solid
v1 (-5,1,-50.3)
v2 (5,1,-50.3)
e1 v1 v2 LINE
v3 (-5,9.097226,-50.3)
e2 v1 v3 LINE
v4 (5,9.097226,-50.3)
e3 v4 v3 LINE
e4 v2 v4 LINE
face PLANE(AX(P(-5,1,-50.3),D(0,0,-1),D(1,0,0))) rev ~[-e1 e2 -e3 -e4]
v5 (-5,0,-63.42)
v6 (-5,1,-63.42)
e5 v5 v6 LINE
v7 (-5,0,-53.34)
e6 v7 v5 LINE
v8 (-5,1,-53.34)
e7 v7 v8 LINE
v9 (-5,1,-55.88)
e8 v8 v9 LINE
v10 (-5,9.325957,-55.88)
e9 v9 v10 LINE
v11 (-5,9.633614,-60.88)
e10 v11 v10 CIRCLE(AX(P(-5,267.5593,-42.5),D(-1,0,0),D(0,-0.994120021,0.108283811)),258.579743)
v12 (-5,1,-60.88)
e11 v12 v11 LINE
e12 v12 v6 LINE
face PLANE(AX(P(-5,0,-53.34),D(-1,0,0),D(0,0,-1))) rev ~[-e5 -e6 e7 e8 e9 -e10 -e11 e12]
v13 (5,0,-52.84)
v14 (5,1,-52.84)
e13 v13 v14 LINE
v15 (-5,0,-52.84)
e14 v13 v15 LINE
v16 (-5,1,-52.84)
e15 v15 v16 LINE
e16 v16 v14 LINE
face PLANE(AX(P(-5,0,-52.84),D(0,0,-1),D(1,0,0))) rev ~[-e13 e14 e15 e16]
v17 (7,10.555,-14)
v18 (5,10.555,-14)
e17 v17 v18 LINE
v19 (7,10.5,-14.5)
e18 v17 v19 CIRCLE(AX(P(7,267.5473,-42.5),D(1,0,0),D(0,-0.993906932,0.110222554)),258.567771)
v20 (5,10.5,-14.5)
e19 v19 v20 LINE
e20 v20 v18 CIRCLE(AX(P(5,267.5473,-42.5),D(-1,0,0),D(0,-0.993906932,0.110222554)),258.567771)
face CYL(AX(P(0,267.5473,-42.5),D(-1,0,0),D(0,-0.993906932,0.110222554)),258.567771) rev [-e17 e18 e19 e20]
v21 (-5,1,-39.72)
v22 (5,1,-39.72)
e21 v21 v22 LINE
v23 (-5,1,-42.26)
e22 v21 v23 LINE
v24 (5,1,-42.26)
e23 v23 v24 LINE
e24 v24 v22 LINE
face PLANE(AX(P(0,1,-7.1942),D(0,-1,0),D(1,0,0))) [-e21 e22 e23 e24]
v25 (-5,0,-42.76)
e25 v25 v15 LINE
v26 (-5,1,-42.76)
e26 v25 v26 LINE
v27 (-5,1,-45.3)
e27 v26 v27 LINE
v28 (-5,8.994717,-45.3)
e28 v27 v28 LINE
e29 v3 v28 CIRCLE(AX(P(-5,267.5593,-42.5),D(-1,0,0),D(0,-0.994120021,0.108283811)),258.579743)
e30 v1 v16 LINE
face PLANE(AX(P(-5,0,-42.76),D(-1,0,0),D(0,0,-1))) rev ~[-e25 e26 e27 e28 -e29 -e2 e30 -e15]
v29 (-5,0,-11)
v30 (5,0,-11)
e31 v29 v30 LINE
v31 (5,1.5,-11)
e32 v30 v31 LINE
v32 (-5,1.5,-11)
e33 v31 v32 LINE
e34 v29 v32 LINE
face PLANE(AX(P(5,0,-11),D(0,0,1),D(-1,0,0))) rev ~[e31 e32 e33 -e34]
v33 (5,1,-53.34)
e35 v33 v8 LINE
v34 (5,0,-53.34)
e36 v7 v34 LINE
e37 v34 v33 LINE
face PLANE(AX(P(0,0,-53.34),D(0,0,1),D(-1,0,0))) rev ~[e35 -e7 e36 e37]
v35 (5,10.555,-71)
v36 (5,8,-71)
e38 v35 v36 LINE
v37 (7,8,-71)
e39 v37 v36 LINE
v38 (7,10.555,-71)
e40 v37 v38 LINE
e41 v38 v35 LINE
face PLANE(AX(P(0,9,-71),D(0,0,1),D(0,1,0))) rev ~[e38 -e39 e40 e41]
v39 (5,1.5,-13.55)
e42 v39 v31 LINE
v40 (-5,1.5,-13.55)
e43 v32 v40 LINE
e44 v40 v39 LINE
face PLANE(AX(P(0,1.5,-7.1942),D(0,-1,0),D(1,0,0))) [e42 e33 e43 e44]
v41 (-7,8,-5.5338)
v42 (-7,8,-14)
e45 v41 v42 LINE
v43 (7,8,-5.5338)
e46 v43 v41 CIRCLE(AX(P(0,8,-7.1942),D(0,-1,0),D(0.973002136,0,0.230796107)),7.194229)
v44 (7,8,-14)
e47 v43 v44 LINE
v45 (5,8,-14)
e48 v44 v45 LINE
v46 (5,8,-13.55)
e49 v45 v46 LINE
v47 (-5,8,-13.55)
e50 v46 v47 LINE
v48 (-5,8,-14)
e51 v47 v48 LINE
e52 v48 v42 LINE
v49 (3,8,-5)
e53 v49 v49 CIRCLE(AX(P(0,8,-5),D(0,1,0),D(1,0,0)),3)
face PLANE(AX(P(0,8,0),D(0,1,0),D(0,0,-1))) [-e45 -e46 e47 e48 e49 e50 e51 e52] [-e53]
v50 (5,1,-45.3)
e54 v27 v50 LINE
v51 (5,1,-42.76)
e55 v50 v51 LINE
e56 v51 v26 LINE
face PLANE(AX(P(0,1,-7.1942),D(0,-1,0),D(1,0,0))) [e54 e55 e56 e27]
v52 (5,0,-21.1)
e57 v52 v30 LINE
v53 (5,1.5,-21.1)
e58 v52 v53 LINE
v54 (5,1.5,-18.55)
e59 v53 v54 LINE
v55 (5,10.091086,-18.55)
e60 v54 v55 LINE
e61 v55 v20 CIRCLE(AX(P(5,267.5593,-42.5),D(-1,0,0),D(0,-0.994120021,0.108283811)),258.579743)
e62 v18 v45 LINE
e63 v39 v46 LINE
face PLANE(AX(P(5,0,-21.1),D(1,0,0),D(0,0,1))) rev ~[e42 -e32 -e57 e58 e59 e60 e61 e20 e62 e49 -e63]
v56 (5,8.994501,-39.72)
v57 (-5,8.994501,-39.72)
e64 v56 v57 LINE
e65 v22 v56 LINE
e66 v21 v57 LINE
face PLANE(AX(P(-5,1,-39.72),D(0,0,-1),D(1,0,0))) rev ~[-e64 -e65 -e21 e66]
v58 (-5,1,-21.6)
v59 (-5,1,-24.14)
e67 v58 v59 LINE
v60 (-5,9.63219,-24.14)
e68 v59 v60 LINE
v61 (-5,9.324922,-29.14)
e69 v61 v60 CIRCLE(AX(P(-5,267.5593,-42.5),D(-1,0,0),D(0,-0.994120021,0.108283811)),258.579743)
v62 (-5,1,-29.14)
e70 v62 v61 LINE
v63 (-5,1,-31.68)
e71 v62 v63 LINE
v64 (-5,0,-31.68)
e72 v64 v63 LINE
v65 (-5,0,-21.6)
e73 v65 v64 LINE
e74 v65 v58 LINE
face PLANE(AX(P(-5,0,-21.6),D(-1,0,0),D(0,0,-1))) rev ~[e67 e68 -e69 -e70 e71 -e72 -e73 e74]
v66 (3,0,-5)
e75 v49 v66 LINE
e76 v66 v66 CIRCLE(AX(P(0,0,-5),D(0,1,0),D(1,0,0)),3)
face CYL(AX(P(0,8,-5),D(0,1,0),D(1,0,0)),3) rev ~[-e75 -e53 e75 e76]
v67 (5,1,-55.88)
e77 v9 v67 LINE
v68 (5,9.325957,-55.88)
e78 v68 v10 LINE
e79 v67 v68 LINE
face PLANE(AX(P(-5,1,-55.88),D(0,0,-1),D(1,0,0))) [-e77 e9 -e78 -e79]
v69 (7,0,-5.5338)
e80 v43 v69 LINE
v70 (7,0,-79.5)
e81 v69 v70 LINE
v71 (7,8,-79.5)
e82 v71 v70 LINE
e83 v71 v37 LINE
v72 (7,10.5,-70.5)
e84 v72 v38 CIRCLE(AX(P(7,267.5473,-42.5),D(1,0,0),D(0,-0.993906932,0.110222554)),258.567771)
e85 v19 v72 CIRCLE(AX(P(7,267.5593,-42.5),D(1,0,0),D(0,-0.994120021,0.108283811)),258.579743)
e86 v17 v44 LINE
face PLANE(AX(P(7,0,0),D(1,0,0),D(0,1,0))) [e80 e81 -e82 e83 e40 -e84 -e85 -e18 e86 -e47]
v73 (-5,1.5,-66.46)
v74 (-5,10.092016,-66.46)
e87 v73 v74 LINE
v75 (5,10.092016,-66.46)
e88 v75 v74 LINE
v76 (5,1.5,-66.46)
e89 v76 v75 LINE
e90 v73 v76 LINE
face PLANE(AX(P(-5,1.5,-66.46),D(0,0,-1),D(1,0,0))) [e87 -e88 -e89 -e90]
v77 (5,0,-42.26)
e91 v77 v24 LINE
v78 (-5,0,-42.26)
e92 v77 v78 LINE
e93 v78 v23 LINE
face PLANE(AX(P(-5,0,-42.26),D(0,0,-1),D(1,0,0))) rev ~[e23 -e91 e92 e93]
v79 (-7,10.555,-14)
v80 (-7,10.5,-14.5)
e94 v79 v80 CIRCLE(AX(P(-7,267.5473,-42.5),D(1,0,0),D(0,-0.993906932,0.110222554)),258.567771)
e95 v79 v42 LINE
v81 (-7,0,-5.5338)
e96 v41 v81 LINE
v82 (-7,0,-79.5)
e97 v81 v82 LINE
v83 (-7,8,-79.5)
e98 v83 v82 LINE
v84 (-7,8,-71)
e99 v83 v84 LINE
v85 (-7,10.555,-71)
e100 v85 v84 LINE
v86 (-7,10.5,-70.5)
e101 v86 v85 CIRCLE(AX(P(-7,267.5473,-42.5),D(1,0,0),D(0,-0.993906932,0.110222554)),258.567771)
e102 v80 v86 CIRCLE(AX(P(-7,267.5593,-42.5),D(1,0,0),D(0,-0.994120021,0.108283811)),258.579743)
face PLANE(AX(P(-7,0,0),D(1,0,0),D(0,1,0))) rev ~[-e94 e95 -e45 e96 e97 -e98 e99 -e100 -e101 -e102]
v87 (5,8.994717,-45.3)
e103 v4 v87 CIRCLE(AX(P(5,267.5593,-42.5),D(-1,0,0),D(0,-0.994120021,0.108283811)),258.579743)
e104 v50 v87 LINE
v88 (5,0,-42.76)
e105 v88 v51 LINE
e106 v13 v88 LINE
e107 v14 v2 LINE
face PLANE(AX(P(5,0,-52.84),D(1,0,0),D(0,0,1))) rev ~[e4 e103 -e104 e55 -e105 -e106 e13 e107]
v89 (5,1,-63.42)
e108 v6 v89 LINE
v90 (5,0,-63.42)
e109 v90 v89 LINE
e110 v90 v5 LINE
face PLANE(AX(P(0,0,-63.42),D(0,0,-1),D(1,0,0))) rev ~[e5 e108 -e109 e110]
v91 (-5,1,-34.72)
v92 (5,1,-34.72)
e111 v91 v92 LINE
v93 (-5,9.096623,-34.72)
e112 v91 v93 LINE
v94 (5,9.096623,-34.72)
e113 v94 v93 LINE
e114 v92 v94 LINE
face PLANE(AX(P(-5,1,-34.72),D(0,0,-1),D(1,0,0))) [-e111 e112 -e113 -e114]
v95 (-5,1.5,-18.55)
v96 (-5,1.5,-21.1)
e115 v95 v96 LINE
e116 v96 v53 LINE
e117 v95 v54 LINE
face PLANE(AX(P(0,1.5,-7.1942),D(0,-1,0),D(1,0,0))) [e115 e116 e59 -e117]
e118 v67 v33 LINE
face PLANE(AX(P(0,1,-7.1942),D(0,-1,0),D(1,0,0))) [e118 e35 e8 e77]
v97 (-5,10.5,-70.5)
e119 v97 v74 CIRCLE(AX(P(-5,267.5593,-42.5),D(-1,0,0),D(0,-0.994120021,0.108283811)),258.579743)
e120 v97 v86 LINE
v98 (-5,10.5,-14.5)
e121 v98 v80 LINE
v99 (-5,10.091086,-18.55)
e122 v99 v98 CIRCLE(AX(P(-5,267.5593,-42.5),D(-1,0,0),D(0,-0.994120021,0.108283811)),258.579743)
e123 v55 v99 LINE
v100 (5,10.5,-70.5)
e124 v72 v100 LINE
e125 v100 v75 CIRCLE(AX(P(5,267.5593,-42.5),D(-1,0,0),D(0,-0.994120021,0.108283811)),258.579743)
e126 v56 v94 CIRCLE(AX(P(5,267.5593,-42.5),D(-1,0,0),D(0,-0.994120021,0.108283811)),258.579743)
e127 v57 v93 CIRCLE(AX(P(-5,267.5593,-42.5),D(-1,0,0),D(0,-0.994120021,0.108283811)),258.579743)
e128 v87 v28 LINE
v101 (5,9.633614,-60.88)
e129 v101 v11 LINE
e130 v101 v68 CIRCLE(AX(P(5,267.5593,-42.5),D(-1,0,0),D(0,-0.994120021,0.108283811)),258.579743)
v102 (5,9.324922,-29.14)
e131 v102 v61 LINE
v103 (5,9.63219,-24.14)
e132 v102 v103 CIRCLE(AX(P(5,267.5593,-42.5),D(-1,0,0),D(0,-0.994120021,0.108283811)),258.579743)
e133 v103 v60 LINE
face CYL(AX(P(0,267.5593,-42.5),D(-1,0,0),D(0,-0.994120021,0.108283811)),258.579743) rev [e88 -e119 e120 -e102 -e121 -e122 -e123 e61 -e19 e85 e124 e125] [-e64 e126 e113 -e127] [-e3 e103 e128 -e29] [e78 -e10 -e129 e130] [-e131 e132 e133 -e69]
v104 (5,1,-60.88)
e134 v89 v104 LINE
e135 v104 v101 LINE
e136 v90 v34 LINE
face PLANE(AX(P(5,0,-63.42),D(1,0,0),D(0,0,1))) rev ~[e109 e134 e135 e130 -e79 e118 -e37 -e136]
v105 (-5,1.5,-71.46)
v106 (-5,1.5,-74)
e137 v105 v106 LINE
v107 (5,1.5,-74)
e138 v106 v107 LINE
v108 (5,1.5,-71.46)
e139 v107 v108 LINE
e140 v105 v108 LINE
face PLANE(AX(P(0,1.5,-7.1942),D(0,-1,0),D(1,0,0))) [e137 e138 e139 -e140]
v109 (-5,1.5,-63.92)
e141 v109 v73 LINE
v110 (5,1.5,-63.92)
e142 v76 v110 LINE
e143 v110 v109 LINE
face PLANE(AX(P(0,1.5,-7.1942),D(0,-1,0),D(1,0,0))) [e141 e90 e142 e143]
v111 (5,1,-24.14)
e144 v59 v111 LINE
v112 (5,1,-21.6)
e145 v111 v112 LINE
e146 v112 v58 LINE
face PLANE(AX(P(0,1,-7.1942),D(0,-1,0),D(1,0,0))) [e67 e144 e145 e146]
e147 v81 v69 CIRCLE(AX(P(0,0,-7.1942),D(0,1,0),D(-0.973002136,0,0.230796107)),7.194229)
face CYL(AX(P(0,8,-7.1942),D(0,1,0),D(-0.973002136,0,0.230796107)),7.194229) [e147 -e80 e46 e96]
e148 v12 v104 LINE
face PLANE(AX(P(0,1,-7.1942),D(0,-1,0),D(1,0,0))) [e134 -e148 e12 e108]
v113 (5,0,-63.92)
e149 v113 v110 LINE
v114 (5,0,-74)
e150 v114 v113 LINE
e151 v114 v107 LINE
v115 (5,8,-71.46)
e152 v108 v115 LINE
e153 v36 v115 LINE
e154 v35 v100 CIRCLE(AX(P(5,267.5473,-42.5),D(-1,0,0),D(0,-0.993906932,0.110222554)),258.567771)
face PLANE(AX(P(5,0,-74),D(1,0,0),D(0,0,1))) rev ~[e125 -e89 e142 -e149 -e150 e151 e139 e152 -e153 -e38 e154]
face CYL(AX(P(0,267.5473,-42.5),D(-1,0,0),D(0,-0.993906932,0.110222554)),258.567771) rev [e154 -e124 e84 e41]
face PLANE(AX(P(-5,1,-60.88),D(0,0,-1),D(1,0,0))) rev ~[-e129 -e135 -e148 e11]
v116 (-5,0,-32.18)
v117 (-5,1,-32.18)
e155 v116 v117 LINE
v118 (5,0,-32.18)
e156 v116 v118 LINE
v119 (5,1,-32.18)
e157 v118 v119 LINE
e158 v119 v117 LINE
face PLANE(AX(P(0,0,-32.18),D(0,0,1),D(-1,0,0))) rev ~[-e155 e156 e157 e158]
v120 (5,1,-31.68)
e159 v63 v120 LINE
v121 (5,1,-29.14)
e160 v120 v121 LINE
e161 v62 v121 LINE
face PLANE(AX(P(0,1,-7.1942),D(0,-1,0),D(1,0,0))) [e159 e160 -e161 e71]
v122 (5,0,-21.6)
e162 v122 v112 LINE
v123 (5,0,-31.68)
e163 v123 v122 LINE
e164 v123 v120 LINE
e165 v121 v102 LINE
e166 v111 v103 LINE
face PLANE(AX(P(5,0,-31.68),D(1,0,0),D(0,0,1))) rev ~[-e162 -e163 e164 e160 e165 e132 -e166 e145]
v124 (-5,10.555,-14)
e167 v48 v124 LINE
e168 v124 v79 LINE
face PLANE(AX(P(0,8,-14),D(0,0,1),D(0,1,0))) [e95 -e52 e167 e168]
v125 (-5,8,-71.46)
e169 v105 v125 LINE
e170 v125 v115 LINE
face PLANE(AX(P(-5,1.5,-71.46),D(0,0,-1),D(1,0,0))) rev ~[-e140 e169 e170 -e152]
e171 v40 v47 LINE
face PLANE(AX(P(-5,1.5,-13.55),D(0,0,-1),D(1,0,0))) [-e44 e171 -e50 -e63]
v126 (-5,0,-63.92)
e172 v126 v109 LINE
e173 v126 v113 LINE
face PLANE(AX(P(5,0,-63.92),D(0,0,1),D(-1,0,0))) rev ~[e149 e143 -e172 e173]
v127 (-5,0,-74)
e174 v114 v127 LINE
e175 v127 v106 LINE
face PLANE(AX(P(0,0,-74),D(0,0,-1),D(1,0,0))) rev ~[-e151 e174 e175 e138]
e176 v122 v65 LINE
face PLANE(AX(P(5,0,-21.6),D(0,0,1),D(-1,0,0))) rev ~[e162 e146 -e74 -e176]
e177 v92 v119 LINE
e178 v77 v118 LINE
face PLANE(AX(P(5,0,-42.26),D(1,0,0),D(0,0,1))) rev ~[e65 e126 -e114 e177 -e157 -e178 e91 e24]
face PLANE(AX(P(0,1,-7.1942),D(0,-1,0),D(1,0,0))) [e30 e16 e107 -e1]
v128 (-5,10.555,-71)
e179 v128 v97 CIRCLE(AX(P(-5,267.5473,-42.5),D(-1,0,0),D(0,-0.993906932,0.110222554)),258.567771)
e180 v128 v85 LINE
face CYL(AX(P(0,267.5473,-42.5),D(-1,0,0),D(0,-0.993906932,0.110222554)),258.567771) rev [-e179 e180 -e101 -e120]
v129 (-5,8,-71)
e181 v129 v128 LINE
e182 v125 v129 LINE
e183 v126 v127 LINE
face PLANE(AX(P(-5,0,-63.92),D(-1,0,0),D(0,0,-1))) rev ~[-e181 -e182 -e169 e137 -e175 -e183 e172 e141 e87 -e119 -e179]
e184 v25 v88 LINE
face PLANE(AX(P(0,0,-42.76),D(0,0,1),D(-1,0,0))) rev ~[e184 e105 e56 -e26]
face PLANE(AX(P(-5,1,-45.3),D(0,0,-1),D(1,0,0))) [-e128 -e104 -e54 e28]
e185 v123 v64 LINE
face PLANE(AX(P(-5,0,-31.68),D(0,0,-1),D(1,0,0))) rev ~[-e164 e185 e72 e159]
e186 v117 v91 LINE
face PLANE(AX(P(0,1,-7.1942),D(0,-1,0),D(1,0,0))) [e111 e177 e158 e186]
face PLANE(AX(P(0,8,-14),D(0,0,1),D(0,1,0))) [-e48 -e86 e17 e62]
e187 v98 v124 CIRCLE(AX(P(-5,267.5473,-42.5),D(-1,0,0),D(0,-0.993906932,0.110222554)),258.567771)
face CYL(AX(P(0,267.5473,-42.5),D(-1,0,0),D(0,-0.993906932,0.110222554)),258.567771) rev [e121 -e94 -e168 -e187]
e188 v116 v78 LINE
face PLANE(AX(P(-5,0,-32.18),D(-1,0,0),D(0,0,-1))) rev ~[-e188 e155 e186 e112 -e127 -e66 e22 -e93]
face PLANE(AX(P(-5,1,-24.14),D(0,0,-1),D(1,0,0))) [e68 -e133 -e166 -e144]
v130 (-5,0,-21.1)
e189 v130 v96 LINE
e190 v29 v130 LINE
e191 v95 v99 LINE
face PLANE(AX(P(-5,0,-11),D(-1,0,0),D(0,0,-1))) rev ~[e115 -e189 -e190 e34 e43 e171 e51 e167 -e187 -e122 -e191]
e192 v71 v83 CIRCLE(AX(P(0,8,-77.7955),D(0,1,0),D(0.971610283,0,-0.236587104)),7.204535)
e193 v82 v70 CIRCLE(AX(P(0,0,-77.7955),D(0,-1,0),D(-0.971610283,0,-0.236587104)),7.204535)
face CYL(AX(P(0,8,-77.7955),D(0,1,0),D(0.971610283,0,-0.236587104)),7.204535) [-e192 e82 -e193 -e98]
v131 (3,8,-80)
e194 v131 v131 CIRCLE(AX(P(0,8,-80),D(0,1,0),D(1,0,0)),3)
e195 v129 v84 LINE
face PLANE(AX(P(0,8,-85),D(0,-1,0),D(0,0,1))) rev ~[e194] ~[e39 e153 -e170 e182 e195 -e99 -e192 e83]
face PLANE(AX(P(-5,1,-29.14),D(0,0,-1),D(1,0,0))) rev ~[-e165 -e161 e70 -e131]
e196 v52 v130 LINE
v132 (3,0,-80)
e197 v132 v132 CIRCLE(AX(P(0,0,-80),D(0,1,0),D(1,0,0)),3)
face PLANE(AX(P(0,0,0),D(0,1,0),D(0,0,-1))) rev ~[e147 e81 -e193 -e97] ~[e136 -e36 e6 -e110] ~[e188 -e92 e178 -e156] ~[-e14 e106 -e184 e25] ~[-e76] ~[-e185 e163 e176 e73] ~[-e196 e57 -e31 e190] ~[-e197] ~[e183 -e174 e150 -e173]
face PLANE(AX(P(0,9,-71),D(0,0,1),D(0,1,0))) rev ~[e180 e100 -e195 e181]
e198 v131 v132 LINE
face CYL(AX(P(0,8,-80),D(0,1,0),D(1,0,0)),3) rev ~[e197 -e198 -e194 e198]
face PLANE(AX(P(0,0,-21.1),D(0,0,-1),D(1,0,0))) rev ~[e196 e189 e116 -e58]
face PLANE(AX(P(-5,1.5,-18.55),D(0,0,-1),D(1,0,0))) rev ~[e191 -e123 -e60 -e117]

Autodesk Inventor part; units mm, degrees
ref_plane "YZ Plane" through (0, 0, 0) normal (1, 0, 0) x (0, 1, 0)
ref_plane "XY Plane" through (0, 0, 0) normal (0, 0, 1) x (1, 0, 0)
sketch "Sketch1" plane through (0, 0, 0) normal (1, 0, 0) x (0, 1, 0)
  line L0 (0, 0) -> (0, -85)
  line L1 (0, -85) -> (8, -85)
  line L2 (0, 0) -> (8, 0)
  line L3 (8, 0) -> (8, -14)
  line L4 (8, -85) -> (8, -71)
  line L5 (8, -14) -> (9, -14)
  line L6 (8, -71) -> (9, -71)
  arc A0 (10.5, -14.5) -> (10.5, -70.5) centre (267.5593, -42.5) ccw
  line L7 (8, -71) -> (10.555, -71)
  line L8 (8, -14) -> (10.555, -14)
  arc A1 (10.555, -14) -> (10.555, -71) centre (267.5473, -42.5) ccw
extrude "Extrusion1" add sketch "Sketch1" along normal mid plane 14
sketch "Sketch2" plane through (-7, 8, 0) normal (0, 1, 0) x (1, 0, 0)
  line L0 (0, 85) -> (0, 0) projected
  line L1 (0, 14.0338) -> (0, 5.5338)
  line L2 (14, 0) -> (14, 85) projected
  line L3 (14, 14.0338) -> (14, 5.5338)
  arc A0 (0, 5.5338) -> (14, 5.5338) centre (7, 7.1942) ccw
  line L4 (0, 5.5338) -> (0, 0)
  line L5 (0, 0) -> (14, 0) projected
  line L6 (14, 0) -> (14, 5.5338)
  point P0 (7, 0)
  dimension "d13" = 8.5
extrude "Extrusion2" cut sketch "Sketch2" against normal blind 14
sketch "Sketch3" plane through (-7, 8, -71) normal (0, 1, 0) x (1, 0, 0)
  line L0 (0, 0) -> (14, 0) projected
  line L1 (0, 0) -> (0, 14) projected
  arc A0 (14, 8.5) -> (0, 8.5) centre (7, 6.7955) ccw
  line L2 (0, 8.5) -> (0, 14)
  line L3 (0, 14) -> (14, 14) projected
  line L4 (14, 14) -> (14, 8.5)
  line L5 (14, -65.4662) -> (14, 14) projected
  line L6 (0, 14) -> (0, 8.5)
  line L7 (14, 8.5) -> (14, 14)
  line L8 (14, 14) -> (0, 14)
  line L9 (0, 8.5) -> (0, 14)
  line L10 (0, 14) -> (14, 14) projected
  line L11 (14, 14) -> (14, 8.5)
  line L12 (14, 14) -> (14, 0) projected
  arc A1 (14, 8.5) -> (0, 8.5) centre (7, 6.7955) ccw
  point P0 (7, -71)
extrude "Extrusion3" cut sketch "Sketch3" against normal blind 14 contours L1 L3 A0 | A0 L3 L4
sketch "Sketch4" plane through (-7, 8, -71) normal (0, 1, 0) x (1, 0, 0)
  arc A0 (14, 8.5) -> (0, 8.5) centre (7, 6.7955) ccw projected
  line L0 (7, 0.0396) -> (7, 3.0396)
  circle A1 centre (7, 9) radius 3
  point P0 (7, -71)
extrude "Extrusion4" cut sketch "Sketch4" against normal blind 14
sketch "Sketch5" plane through (-7, 8, -14) normal (0, 1, 0) x (1, 0, 0)
  circle A0 centre (7, -9) radius 3
  point P0 (7, -14)
extrude "Extrusion5" cut sketch "Sketch5" against normal blind 14
sketch "Sketch6" plane through (0, 0, -7.1942) normal (0, -1, 0) x (1, 0, 0)
  point P0 (0, 7.1942)
sketch "Sketch7" plane through (0, 0, -7.1942) normal (0, -1, 0) x (1, 0, 0)
  circle A0 centre (0, 2.1942) radius 3 projected
  line L0 (0, -0.8058) -> (0, -3.8058)
  circle A1 centre (0, -72.8058) radius 3 projected
  line L1 (0, -69.8058) -> (0, -66.8058)
  line L2 (0, -66.8058) -> (-5, -66.8058)
  line L3 (-5, -66.8058) -> (5, -66.8058)
  line L4 (-5, -66.8058) -> (5, -66.8058)
  line L5 (5, -66.8058) -> (5, -56.7258)
  line L6 (5, -56.7258) -> (-5, -56.7258)
  line L7 (-5, -56.7258) -> (-5, -66.8058)
  line L8 (0, -56.7258) -> (0, -56.2258)
  line L9 (-5, -56.2258) -> (5, -56.2258)
  line L10 (5, -56.2258) -> (5, -46.1458)
  line L11 (5, -46.1458) -> (-5, -46.1458)
  line L12 (-5, -46.1458) -> (-5, -56.2258)
  line L13 (0, -46.1458) -> (0, -45.6458)
  line L14 (-5, -45.6458) -> (5, -45.6458)
  line L15 (5, -45.6458) -> (5, -35.5658)
  line L16 (5, -35.5658) -> (-5, -35.5658)
  line L17 (-5, -35.5658) -> (-5, -45.6458)
  line L18 (0, -35.5658) -> (0, -35.0658)
  line L19 (-5, -35.0658) -> (5, -35.0658)
  line L20 (5, -35.0658) -> (5, -24.9858)
  line L21 (5, -24.9858) -> (-5, -24.9858)
  line L22 (-5, -24.9858) -> (-5, -35.0658)
  line L23 (0, -24.9858) -> (0, -24.4858)
  line L24 (-5, -24.4858) -> (5, -24.4858)
  line L25 (5, -24.4858) -> (5, -14.4058)
  line L26 (5, -14.4058) -> (-5, -14.4058)
  line L27 (-5, -14.4058) -> (-5, -24.4858)
  line L28 (0, -14.4058) -> (0, -13.9058)
  line L29 (-5, -13.9058) -> (5, -13.9058)
  line L30 (5, -13.9058) -> (5, -3.8058)
  line L31 (5, -3.8058) -> (-5, -3.8058)
  line L32 (-5, -3.8058) -> (-5, -13.9058)
  point P0 (0, 7.1942)
extrude "Extrusion6" cut sketch "Sketch7" against normal blind 1.5 contours L6 L5 L3 L2 L7 | L31 L30 L29 L32
sketch "Sketch8" plane through (0, 0, -7.1942) normal (0, -1, 0) x (1, 0, 0)
  line L0 (-5, -56.7258) -> (5, -56.7258) projected
  line L1 (0, -56.7258) -> (0, -56.2258)
  line L2 (-5, -56.2258) -> (5, -56.2258)
  line L3 (5, -56.2258) -> (5, -46.1458)
  line L4 (5, -46.1458) -> (-5, -46.1458)
  line L5 (-5, -46.1458) -> (-5, -56.2258)
  line L6 (0, -46.1458) -> (0, -45.6458)
  line L7 (-5, -45.6458) -> (5, -45.6458)
  line L8 (5, -45.6458) -> (5, -35.5658)
  line L9 (5, -35.5658) -> (-5, -35.5658)
  line L10 (-5, -35.5658) -> (-5, -45.6458)
  line L11 (0, -35.5658) -> (0, -35.0658)
  line L12 (-5, -35.0658) -> (5, -35.0658)
  line L13 (5, -35.0658) -> (5, -24.9858)
  line L14 (5, -24.9858) -> (-5, -24.9858)
  line L15 (-5, -24.9858) -> (-5, -35.0658)
  line L16 (0, -24.9858) -> (0, -24.4858)
  line L17 (-5, -24.4858) -> (5, -24.4858)
  line L18 (5, -24.4858) -> (5, -14.4058)
  line L19 (5, -14.4058) -> (-5, -14.4058)
  line L20 (-5, -14.4058) -> (-5, -24.4858)
  point P0 (0, 7.1942)
  dimension "d75" = 0.5
  dimension "d76" = 10.08
  dimension "d77" = 0.5
  dimension "d78" = 10.08
  dimension "d79" = 0.5
  dimension "d80" = 10.08
  dimension "d81" = 0.5
  dimension "d82" = 10.08
extrude "Extrusion7" cut sketch "Sketch8" against normal blind 1
sketch "Sketch9" plane through (0, 1.5, -7.1942) normal (0, -1, 0) x (1, 0, 0)
  line L0 (-5, -66.8058) -> (-5, -56.7258) projected
  line L1 (5, -56.7258) -> (5, -66.8058) projected
  line L2 (-5, -59.2658) -> (5, -59.2658)
  line L3 (-5, -64.2658) -> (5, -64.2658)
  line L4 (-5, -64.2658) -> (-5, -59.2658)
  line L5 (5, -64.2658) -> (5, -59.2658)
  line L6 (5, -64.2658) -> (5, -59.2658)
  point P0 (0, 7.1942)
extrude "Extrusion8" cut sketch "Sketch9" against normal blind 20
sketch "Sketch10" plane through (0, 1, -7.1942) normal (0, -1, 0) x (1, 0, 0)
  line L0 (-5, -56.2258) -> (-5, -46.1458) projected
  line L1 (5, -46.1458) -> (5, -56.2258) projected
  line L2 (-5, -53.6858) -> (5, -53.6858)
  line L3 (-5, -48.6858) -> (5, -48.6858)
  line L4 (5, -48.6858) -> (5, -53.6858)
  line L5 (-5, -48.6858) -> (-5, -53.6858)
  point P0 (0, 7.1942)
  dimension "d95" = 20
  dimension "d96" = 0
extrude "Extrusion9" cut sketch "Sketch10" against normal blind 20
sketch "Sketch11" plane through (0, 1, -7.1942) normal (0, -1, 0) x (1, 0, 0)
  line L0 (-5, -45.6458) -> (-5, -35.5658) projected
  line L1 (5, -35.5658) -> (5, -45.6458) projected
  line L2 (-5, -43.1058) -> (5, -43.1058)
  line L3 (-5, -38.1058) -> (5, -38.1058)
  line L4 (5, -38.1058) -> (5, -43.1058)
  line L5 (-5, -38.1058) -> (-5, -43.1058)
  point P0 (0, 7.1942)
extrude "Extrusion10" cut sketch "Sketch11" against normal blind 20
sketch "Sketch12" plane through (0, 1, -7.1942) normal (0, -1, 0) x (1, 0, 0)
  line L0 (-5, -35.0658) -> (-5, -24.9858) projected
  line L1 (5, -24.9858) -> (5, -35.0658) projected
  line L2 (-5, -32.5258) -> (5, -32.5258)
  line L3 (-5, -27.5258) -> (5, -27.5258)
  line L4 (5, -27.5258) -> (5, -32.5258)
  line L5 (-5, -27.5258) -> (-5, -32.5258)
  point P0 (0, 7.1942)
extrude "Extrusion11" cut sketch "Sketch12" against normal blind 20
sketch "Sketch13" plane through (0, 1, -7.1942) normal (0, -1, 0) x (1, 0, 0)
  line L0 (-5, -24.4858) -> (-5, -14.4058) projected
  line L1 (-5, -21.9458) -> (5, -21.9458)
  line L2 (-5, -16.9458) -> (5, -16.9458)
  line L3 (5, -16.9458) -> (5, -21.9458)
  line L4 (5, -14.4058) -> (5, -24.4858) projected
  line L5 (-5, -16.9458) -> (-5, -21.9458)
  point P0 (0, 7.1942)
extrude "Extrusion12" cut sketch "Sketch13" against normal blind 20
sketch "Sketch14" plane through (0, 1.5, -7.1942) normal (0, -1, 0) x (1, 0, 0)
  line L0 (-5, -13.9058) -> (-5, -3.8058) projected
  line L1 (5, -3.8058) -> (5, -13.9058) projected
  line L2 (-5, -11.3558) -> (5, -11.3558)
  line L3 (-5, -6.3558) -> (5, -6.3558)
  line L4 (5, -6.3558) -> (5, -11.3558)
  line L5 (-5, -6.772) -> (-5, -11.3558)
  line L6 (-5, -6.3558) -> (-5, -11.3558)
  point P0 (0, 7.1942)
extrude "Extrusion13" cut sketch "Sketch14" against normal blind 20
sketch "Sketch15" plane through (0, 1.5, -7.1942) normal (0, -1, 0) x (1, 0, 0)
  point P0 (0, 7.1942)
sketch "Sketch16" plane through (0, 1.5, -7.1942) normal (0, -1, 0) x (1, 0, 0)
  point P0 (0, 7.1942)
sketch "Sketch17" plane through (0, 0, -7.1942) normal (0, -1, 0) x (1, 0, 0)
  point P0 (0, 7.1942)
sketch "Sketch18" plane through (7, 0, 0) normal (1, 0, 0) x (0, 0, -1)
  point P0 (0, 0)
sketch "Sketch19" plane through (0, 1, -7.1942) normal (0, -1, 0) x (1, 0, 0)
  line L0 (-5, -13.9058) -> (-5, -11.3558) projected
  line L1 (-5, -11.3558) -> (-5, -59.3271)
  line L2 (-5, -66.8058) -> (-5, -56.7258) projected
  point P0 (0, 7.1942)
ref_plane "Work Plane1" through (0, 8.9795, -42.5) normal (0, 1, 0) x (-1, 0, 0)
sketch "Sketch20" plane through (0, 8.9795, -42.5) normal (0, 1, 0) x (-1, 0, 0)
  point P0 (0, 42.5)
sketch "Sketch21" plane through (-5, 0, -21.6) normal (1, 0, 0) x (0, 0, -1)
  point P0 (-21.6, 0)
properties part number "segurador das cordas" material "Steel"
